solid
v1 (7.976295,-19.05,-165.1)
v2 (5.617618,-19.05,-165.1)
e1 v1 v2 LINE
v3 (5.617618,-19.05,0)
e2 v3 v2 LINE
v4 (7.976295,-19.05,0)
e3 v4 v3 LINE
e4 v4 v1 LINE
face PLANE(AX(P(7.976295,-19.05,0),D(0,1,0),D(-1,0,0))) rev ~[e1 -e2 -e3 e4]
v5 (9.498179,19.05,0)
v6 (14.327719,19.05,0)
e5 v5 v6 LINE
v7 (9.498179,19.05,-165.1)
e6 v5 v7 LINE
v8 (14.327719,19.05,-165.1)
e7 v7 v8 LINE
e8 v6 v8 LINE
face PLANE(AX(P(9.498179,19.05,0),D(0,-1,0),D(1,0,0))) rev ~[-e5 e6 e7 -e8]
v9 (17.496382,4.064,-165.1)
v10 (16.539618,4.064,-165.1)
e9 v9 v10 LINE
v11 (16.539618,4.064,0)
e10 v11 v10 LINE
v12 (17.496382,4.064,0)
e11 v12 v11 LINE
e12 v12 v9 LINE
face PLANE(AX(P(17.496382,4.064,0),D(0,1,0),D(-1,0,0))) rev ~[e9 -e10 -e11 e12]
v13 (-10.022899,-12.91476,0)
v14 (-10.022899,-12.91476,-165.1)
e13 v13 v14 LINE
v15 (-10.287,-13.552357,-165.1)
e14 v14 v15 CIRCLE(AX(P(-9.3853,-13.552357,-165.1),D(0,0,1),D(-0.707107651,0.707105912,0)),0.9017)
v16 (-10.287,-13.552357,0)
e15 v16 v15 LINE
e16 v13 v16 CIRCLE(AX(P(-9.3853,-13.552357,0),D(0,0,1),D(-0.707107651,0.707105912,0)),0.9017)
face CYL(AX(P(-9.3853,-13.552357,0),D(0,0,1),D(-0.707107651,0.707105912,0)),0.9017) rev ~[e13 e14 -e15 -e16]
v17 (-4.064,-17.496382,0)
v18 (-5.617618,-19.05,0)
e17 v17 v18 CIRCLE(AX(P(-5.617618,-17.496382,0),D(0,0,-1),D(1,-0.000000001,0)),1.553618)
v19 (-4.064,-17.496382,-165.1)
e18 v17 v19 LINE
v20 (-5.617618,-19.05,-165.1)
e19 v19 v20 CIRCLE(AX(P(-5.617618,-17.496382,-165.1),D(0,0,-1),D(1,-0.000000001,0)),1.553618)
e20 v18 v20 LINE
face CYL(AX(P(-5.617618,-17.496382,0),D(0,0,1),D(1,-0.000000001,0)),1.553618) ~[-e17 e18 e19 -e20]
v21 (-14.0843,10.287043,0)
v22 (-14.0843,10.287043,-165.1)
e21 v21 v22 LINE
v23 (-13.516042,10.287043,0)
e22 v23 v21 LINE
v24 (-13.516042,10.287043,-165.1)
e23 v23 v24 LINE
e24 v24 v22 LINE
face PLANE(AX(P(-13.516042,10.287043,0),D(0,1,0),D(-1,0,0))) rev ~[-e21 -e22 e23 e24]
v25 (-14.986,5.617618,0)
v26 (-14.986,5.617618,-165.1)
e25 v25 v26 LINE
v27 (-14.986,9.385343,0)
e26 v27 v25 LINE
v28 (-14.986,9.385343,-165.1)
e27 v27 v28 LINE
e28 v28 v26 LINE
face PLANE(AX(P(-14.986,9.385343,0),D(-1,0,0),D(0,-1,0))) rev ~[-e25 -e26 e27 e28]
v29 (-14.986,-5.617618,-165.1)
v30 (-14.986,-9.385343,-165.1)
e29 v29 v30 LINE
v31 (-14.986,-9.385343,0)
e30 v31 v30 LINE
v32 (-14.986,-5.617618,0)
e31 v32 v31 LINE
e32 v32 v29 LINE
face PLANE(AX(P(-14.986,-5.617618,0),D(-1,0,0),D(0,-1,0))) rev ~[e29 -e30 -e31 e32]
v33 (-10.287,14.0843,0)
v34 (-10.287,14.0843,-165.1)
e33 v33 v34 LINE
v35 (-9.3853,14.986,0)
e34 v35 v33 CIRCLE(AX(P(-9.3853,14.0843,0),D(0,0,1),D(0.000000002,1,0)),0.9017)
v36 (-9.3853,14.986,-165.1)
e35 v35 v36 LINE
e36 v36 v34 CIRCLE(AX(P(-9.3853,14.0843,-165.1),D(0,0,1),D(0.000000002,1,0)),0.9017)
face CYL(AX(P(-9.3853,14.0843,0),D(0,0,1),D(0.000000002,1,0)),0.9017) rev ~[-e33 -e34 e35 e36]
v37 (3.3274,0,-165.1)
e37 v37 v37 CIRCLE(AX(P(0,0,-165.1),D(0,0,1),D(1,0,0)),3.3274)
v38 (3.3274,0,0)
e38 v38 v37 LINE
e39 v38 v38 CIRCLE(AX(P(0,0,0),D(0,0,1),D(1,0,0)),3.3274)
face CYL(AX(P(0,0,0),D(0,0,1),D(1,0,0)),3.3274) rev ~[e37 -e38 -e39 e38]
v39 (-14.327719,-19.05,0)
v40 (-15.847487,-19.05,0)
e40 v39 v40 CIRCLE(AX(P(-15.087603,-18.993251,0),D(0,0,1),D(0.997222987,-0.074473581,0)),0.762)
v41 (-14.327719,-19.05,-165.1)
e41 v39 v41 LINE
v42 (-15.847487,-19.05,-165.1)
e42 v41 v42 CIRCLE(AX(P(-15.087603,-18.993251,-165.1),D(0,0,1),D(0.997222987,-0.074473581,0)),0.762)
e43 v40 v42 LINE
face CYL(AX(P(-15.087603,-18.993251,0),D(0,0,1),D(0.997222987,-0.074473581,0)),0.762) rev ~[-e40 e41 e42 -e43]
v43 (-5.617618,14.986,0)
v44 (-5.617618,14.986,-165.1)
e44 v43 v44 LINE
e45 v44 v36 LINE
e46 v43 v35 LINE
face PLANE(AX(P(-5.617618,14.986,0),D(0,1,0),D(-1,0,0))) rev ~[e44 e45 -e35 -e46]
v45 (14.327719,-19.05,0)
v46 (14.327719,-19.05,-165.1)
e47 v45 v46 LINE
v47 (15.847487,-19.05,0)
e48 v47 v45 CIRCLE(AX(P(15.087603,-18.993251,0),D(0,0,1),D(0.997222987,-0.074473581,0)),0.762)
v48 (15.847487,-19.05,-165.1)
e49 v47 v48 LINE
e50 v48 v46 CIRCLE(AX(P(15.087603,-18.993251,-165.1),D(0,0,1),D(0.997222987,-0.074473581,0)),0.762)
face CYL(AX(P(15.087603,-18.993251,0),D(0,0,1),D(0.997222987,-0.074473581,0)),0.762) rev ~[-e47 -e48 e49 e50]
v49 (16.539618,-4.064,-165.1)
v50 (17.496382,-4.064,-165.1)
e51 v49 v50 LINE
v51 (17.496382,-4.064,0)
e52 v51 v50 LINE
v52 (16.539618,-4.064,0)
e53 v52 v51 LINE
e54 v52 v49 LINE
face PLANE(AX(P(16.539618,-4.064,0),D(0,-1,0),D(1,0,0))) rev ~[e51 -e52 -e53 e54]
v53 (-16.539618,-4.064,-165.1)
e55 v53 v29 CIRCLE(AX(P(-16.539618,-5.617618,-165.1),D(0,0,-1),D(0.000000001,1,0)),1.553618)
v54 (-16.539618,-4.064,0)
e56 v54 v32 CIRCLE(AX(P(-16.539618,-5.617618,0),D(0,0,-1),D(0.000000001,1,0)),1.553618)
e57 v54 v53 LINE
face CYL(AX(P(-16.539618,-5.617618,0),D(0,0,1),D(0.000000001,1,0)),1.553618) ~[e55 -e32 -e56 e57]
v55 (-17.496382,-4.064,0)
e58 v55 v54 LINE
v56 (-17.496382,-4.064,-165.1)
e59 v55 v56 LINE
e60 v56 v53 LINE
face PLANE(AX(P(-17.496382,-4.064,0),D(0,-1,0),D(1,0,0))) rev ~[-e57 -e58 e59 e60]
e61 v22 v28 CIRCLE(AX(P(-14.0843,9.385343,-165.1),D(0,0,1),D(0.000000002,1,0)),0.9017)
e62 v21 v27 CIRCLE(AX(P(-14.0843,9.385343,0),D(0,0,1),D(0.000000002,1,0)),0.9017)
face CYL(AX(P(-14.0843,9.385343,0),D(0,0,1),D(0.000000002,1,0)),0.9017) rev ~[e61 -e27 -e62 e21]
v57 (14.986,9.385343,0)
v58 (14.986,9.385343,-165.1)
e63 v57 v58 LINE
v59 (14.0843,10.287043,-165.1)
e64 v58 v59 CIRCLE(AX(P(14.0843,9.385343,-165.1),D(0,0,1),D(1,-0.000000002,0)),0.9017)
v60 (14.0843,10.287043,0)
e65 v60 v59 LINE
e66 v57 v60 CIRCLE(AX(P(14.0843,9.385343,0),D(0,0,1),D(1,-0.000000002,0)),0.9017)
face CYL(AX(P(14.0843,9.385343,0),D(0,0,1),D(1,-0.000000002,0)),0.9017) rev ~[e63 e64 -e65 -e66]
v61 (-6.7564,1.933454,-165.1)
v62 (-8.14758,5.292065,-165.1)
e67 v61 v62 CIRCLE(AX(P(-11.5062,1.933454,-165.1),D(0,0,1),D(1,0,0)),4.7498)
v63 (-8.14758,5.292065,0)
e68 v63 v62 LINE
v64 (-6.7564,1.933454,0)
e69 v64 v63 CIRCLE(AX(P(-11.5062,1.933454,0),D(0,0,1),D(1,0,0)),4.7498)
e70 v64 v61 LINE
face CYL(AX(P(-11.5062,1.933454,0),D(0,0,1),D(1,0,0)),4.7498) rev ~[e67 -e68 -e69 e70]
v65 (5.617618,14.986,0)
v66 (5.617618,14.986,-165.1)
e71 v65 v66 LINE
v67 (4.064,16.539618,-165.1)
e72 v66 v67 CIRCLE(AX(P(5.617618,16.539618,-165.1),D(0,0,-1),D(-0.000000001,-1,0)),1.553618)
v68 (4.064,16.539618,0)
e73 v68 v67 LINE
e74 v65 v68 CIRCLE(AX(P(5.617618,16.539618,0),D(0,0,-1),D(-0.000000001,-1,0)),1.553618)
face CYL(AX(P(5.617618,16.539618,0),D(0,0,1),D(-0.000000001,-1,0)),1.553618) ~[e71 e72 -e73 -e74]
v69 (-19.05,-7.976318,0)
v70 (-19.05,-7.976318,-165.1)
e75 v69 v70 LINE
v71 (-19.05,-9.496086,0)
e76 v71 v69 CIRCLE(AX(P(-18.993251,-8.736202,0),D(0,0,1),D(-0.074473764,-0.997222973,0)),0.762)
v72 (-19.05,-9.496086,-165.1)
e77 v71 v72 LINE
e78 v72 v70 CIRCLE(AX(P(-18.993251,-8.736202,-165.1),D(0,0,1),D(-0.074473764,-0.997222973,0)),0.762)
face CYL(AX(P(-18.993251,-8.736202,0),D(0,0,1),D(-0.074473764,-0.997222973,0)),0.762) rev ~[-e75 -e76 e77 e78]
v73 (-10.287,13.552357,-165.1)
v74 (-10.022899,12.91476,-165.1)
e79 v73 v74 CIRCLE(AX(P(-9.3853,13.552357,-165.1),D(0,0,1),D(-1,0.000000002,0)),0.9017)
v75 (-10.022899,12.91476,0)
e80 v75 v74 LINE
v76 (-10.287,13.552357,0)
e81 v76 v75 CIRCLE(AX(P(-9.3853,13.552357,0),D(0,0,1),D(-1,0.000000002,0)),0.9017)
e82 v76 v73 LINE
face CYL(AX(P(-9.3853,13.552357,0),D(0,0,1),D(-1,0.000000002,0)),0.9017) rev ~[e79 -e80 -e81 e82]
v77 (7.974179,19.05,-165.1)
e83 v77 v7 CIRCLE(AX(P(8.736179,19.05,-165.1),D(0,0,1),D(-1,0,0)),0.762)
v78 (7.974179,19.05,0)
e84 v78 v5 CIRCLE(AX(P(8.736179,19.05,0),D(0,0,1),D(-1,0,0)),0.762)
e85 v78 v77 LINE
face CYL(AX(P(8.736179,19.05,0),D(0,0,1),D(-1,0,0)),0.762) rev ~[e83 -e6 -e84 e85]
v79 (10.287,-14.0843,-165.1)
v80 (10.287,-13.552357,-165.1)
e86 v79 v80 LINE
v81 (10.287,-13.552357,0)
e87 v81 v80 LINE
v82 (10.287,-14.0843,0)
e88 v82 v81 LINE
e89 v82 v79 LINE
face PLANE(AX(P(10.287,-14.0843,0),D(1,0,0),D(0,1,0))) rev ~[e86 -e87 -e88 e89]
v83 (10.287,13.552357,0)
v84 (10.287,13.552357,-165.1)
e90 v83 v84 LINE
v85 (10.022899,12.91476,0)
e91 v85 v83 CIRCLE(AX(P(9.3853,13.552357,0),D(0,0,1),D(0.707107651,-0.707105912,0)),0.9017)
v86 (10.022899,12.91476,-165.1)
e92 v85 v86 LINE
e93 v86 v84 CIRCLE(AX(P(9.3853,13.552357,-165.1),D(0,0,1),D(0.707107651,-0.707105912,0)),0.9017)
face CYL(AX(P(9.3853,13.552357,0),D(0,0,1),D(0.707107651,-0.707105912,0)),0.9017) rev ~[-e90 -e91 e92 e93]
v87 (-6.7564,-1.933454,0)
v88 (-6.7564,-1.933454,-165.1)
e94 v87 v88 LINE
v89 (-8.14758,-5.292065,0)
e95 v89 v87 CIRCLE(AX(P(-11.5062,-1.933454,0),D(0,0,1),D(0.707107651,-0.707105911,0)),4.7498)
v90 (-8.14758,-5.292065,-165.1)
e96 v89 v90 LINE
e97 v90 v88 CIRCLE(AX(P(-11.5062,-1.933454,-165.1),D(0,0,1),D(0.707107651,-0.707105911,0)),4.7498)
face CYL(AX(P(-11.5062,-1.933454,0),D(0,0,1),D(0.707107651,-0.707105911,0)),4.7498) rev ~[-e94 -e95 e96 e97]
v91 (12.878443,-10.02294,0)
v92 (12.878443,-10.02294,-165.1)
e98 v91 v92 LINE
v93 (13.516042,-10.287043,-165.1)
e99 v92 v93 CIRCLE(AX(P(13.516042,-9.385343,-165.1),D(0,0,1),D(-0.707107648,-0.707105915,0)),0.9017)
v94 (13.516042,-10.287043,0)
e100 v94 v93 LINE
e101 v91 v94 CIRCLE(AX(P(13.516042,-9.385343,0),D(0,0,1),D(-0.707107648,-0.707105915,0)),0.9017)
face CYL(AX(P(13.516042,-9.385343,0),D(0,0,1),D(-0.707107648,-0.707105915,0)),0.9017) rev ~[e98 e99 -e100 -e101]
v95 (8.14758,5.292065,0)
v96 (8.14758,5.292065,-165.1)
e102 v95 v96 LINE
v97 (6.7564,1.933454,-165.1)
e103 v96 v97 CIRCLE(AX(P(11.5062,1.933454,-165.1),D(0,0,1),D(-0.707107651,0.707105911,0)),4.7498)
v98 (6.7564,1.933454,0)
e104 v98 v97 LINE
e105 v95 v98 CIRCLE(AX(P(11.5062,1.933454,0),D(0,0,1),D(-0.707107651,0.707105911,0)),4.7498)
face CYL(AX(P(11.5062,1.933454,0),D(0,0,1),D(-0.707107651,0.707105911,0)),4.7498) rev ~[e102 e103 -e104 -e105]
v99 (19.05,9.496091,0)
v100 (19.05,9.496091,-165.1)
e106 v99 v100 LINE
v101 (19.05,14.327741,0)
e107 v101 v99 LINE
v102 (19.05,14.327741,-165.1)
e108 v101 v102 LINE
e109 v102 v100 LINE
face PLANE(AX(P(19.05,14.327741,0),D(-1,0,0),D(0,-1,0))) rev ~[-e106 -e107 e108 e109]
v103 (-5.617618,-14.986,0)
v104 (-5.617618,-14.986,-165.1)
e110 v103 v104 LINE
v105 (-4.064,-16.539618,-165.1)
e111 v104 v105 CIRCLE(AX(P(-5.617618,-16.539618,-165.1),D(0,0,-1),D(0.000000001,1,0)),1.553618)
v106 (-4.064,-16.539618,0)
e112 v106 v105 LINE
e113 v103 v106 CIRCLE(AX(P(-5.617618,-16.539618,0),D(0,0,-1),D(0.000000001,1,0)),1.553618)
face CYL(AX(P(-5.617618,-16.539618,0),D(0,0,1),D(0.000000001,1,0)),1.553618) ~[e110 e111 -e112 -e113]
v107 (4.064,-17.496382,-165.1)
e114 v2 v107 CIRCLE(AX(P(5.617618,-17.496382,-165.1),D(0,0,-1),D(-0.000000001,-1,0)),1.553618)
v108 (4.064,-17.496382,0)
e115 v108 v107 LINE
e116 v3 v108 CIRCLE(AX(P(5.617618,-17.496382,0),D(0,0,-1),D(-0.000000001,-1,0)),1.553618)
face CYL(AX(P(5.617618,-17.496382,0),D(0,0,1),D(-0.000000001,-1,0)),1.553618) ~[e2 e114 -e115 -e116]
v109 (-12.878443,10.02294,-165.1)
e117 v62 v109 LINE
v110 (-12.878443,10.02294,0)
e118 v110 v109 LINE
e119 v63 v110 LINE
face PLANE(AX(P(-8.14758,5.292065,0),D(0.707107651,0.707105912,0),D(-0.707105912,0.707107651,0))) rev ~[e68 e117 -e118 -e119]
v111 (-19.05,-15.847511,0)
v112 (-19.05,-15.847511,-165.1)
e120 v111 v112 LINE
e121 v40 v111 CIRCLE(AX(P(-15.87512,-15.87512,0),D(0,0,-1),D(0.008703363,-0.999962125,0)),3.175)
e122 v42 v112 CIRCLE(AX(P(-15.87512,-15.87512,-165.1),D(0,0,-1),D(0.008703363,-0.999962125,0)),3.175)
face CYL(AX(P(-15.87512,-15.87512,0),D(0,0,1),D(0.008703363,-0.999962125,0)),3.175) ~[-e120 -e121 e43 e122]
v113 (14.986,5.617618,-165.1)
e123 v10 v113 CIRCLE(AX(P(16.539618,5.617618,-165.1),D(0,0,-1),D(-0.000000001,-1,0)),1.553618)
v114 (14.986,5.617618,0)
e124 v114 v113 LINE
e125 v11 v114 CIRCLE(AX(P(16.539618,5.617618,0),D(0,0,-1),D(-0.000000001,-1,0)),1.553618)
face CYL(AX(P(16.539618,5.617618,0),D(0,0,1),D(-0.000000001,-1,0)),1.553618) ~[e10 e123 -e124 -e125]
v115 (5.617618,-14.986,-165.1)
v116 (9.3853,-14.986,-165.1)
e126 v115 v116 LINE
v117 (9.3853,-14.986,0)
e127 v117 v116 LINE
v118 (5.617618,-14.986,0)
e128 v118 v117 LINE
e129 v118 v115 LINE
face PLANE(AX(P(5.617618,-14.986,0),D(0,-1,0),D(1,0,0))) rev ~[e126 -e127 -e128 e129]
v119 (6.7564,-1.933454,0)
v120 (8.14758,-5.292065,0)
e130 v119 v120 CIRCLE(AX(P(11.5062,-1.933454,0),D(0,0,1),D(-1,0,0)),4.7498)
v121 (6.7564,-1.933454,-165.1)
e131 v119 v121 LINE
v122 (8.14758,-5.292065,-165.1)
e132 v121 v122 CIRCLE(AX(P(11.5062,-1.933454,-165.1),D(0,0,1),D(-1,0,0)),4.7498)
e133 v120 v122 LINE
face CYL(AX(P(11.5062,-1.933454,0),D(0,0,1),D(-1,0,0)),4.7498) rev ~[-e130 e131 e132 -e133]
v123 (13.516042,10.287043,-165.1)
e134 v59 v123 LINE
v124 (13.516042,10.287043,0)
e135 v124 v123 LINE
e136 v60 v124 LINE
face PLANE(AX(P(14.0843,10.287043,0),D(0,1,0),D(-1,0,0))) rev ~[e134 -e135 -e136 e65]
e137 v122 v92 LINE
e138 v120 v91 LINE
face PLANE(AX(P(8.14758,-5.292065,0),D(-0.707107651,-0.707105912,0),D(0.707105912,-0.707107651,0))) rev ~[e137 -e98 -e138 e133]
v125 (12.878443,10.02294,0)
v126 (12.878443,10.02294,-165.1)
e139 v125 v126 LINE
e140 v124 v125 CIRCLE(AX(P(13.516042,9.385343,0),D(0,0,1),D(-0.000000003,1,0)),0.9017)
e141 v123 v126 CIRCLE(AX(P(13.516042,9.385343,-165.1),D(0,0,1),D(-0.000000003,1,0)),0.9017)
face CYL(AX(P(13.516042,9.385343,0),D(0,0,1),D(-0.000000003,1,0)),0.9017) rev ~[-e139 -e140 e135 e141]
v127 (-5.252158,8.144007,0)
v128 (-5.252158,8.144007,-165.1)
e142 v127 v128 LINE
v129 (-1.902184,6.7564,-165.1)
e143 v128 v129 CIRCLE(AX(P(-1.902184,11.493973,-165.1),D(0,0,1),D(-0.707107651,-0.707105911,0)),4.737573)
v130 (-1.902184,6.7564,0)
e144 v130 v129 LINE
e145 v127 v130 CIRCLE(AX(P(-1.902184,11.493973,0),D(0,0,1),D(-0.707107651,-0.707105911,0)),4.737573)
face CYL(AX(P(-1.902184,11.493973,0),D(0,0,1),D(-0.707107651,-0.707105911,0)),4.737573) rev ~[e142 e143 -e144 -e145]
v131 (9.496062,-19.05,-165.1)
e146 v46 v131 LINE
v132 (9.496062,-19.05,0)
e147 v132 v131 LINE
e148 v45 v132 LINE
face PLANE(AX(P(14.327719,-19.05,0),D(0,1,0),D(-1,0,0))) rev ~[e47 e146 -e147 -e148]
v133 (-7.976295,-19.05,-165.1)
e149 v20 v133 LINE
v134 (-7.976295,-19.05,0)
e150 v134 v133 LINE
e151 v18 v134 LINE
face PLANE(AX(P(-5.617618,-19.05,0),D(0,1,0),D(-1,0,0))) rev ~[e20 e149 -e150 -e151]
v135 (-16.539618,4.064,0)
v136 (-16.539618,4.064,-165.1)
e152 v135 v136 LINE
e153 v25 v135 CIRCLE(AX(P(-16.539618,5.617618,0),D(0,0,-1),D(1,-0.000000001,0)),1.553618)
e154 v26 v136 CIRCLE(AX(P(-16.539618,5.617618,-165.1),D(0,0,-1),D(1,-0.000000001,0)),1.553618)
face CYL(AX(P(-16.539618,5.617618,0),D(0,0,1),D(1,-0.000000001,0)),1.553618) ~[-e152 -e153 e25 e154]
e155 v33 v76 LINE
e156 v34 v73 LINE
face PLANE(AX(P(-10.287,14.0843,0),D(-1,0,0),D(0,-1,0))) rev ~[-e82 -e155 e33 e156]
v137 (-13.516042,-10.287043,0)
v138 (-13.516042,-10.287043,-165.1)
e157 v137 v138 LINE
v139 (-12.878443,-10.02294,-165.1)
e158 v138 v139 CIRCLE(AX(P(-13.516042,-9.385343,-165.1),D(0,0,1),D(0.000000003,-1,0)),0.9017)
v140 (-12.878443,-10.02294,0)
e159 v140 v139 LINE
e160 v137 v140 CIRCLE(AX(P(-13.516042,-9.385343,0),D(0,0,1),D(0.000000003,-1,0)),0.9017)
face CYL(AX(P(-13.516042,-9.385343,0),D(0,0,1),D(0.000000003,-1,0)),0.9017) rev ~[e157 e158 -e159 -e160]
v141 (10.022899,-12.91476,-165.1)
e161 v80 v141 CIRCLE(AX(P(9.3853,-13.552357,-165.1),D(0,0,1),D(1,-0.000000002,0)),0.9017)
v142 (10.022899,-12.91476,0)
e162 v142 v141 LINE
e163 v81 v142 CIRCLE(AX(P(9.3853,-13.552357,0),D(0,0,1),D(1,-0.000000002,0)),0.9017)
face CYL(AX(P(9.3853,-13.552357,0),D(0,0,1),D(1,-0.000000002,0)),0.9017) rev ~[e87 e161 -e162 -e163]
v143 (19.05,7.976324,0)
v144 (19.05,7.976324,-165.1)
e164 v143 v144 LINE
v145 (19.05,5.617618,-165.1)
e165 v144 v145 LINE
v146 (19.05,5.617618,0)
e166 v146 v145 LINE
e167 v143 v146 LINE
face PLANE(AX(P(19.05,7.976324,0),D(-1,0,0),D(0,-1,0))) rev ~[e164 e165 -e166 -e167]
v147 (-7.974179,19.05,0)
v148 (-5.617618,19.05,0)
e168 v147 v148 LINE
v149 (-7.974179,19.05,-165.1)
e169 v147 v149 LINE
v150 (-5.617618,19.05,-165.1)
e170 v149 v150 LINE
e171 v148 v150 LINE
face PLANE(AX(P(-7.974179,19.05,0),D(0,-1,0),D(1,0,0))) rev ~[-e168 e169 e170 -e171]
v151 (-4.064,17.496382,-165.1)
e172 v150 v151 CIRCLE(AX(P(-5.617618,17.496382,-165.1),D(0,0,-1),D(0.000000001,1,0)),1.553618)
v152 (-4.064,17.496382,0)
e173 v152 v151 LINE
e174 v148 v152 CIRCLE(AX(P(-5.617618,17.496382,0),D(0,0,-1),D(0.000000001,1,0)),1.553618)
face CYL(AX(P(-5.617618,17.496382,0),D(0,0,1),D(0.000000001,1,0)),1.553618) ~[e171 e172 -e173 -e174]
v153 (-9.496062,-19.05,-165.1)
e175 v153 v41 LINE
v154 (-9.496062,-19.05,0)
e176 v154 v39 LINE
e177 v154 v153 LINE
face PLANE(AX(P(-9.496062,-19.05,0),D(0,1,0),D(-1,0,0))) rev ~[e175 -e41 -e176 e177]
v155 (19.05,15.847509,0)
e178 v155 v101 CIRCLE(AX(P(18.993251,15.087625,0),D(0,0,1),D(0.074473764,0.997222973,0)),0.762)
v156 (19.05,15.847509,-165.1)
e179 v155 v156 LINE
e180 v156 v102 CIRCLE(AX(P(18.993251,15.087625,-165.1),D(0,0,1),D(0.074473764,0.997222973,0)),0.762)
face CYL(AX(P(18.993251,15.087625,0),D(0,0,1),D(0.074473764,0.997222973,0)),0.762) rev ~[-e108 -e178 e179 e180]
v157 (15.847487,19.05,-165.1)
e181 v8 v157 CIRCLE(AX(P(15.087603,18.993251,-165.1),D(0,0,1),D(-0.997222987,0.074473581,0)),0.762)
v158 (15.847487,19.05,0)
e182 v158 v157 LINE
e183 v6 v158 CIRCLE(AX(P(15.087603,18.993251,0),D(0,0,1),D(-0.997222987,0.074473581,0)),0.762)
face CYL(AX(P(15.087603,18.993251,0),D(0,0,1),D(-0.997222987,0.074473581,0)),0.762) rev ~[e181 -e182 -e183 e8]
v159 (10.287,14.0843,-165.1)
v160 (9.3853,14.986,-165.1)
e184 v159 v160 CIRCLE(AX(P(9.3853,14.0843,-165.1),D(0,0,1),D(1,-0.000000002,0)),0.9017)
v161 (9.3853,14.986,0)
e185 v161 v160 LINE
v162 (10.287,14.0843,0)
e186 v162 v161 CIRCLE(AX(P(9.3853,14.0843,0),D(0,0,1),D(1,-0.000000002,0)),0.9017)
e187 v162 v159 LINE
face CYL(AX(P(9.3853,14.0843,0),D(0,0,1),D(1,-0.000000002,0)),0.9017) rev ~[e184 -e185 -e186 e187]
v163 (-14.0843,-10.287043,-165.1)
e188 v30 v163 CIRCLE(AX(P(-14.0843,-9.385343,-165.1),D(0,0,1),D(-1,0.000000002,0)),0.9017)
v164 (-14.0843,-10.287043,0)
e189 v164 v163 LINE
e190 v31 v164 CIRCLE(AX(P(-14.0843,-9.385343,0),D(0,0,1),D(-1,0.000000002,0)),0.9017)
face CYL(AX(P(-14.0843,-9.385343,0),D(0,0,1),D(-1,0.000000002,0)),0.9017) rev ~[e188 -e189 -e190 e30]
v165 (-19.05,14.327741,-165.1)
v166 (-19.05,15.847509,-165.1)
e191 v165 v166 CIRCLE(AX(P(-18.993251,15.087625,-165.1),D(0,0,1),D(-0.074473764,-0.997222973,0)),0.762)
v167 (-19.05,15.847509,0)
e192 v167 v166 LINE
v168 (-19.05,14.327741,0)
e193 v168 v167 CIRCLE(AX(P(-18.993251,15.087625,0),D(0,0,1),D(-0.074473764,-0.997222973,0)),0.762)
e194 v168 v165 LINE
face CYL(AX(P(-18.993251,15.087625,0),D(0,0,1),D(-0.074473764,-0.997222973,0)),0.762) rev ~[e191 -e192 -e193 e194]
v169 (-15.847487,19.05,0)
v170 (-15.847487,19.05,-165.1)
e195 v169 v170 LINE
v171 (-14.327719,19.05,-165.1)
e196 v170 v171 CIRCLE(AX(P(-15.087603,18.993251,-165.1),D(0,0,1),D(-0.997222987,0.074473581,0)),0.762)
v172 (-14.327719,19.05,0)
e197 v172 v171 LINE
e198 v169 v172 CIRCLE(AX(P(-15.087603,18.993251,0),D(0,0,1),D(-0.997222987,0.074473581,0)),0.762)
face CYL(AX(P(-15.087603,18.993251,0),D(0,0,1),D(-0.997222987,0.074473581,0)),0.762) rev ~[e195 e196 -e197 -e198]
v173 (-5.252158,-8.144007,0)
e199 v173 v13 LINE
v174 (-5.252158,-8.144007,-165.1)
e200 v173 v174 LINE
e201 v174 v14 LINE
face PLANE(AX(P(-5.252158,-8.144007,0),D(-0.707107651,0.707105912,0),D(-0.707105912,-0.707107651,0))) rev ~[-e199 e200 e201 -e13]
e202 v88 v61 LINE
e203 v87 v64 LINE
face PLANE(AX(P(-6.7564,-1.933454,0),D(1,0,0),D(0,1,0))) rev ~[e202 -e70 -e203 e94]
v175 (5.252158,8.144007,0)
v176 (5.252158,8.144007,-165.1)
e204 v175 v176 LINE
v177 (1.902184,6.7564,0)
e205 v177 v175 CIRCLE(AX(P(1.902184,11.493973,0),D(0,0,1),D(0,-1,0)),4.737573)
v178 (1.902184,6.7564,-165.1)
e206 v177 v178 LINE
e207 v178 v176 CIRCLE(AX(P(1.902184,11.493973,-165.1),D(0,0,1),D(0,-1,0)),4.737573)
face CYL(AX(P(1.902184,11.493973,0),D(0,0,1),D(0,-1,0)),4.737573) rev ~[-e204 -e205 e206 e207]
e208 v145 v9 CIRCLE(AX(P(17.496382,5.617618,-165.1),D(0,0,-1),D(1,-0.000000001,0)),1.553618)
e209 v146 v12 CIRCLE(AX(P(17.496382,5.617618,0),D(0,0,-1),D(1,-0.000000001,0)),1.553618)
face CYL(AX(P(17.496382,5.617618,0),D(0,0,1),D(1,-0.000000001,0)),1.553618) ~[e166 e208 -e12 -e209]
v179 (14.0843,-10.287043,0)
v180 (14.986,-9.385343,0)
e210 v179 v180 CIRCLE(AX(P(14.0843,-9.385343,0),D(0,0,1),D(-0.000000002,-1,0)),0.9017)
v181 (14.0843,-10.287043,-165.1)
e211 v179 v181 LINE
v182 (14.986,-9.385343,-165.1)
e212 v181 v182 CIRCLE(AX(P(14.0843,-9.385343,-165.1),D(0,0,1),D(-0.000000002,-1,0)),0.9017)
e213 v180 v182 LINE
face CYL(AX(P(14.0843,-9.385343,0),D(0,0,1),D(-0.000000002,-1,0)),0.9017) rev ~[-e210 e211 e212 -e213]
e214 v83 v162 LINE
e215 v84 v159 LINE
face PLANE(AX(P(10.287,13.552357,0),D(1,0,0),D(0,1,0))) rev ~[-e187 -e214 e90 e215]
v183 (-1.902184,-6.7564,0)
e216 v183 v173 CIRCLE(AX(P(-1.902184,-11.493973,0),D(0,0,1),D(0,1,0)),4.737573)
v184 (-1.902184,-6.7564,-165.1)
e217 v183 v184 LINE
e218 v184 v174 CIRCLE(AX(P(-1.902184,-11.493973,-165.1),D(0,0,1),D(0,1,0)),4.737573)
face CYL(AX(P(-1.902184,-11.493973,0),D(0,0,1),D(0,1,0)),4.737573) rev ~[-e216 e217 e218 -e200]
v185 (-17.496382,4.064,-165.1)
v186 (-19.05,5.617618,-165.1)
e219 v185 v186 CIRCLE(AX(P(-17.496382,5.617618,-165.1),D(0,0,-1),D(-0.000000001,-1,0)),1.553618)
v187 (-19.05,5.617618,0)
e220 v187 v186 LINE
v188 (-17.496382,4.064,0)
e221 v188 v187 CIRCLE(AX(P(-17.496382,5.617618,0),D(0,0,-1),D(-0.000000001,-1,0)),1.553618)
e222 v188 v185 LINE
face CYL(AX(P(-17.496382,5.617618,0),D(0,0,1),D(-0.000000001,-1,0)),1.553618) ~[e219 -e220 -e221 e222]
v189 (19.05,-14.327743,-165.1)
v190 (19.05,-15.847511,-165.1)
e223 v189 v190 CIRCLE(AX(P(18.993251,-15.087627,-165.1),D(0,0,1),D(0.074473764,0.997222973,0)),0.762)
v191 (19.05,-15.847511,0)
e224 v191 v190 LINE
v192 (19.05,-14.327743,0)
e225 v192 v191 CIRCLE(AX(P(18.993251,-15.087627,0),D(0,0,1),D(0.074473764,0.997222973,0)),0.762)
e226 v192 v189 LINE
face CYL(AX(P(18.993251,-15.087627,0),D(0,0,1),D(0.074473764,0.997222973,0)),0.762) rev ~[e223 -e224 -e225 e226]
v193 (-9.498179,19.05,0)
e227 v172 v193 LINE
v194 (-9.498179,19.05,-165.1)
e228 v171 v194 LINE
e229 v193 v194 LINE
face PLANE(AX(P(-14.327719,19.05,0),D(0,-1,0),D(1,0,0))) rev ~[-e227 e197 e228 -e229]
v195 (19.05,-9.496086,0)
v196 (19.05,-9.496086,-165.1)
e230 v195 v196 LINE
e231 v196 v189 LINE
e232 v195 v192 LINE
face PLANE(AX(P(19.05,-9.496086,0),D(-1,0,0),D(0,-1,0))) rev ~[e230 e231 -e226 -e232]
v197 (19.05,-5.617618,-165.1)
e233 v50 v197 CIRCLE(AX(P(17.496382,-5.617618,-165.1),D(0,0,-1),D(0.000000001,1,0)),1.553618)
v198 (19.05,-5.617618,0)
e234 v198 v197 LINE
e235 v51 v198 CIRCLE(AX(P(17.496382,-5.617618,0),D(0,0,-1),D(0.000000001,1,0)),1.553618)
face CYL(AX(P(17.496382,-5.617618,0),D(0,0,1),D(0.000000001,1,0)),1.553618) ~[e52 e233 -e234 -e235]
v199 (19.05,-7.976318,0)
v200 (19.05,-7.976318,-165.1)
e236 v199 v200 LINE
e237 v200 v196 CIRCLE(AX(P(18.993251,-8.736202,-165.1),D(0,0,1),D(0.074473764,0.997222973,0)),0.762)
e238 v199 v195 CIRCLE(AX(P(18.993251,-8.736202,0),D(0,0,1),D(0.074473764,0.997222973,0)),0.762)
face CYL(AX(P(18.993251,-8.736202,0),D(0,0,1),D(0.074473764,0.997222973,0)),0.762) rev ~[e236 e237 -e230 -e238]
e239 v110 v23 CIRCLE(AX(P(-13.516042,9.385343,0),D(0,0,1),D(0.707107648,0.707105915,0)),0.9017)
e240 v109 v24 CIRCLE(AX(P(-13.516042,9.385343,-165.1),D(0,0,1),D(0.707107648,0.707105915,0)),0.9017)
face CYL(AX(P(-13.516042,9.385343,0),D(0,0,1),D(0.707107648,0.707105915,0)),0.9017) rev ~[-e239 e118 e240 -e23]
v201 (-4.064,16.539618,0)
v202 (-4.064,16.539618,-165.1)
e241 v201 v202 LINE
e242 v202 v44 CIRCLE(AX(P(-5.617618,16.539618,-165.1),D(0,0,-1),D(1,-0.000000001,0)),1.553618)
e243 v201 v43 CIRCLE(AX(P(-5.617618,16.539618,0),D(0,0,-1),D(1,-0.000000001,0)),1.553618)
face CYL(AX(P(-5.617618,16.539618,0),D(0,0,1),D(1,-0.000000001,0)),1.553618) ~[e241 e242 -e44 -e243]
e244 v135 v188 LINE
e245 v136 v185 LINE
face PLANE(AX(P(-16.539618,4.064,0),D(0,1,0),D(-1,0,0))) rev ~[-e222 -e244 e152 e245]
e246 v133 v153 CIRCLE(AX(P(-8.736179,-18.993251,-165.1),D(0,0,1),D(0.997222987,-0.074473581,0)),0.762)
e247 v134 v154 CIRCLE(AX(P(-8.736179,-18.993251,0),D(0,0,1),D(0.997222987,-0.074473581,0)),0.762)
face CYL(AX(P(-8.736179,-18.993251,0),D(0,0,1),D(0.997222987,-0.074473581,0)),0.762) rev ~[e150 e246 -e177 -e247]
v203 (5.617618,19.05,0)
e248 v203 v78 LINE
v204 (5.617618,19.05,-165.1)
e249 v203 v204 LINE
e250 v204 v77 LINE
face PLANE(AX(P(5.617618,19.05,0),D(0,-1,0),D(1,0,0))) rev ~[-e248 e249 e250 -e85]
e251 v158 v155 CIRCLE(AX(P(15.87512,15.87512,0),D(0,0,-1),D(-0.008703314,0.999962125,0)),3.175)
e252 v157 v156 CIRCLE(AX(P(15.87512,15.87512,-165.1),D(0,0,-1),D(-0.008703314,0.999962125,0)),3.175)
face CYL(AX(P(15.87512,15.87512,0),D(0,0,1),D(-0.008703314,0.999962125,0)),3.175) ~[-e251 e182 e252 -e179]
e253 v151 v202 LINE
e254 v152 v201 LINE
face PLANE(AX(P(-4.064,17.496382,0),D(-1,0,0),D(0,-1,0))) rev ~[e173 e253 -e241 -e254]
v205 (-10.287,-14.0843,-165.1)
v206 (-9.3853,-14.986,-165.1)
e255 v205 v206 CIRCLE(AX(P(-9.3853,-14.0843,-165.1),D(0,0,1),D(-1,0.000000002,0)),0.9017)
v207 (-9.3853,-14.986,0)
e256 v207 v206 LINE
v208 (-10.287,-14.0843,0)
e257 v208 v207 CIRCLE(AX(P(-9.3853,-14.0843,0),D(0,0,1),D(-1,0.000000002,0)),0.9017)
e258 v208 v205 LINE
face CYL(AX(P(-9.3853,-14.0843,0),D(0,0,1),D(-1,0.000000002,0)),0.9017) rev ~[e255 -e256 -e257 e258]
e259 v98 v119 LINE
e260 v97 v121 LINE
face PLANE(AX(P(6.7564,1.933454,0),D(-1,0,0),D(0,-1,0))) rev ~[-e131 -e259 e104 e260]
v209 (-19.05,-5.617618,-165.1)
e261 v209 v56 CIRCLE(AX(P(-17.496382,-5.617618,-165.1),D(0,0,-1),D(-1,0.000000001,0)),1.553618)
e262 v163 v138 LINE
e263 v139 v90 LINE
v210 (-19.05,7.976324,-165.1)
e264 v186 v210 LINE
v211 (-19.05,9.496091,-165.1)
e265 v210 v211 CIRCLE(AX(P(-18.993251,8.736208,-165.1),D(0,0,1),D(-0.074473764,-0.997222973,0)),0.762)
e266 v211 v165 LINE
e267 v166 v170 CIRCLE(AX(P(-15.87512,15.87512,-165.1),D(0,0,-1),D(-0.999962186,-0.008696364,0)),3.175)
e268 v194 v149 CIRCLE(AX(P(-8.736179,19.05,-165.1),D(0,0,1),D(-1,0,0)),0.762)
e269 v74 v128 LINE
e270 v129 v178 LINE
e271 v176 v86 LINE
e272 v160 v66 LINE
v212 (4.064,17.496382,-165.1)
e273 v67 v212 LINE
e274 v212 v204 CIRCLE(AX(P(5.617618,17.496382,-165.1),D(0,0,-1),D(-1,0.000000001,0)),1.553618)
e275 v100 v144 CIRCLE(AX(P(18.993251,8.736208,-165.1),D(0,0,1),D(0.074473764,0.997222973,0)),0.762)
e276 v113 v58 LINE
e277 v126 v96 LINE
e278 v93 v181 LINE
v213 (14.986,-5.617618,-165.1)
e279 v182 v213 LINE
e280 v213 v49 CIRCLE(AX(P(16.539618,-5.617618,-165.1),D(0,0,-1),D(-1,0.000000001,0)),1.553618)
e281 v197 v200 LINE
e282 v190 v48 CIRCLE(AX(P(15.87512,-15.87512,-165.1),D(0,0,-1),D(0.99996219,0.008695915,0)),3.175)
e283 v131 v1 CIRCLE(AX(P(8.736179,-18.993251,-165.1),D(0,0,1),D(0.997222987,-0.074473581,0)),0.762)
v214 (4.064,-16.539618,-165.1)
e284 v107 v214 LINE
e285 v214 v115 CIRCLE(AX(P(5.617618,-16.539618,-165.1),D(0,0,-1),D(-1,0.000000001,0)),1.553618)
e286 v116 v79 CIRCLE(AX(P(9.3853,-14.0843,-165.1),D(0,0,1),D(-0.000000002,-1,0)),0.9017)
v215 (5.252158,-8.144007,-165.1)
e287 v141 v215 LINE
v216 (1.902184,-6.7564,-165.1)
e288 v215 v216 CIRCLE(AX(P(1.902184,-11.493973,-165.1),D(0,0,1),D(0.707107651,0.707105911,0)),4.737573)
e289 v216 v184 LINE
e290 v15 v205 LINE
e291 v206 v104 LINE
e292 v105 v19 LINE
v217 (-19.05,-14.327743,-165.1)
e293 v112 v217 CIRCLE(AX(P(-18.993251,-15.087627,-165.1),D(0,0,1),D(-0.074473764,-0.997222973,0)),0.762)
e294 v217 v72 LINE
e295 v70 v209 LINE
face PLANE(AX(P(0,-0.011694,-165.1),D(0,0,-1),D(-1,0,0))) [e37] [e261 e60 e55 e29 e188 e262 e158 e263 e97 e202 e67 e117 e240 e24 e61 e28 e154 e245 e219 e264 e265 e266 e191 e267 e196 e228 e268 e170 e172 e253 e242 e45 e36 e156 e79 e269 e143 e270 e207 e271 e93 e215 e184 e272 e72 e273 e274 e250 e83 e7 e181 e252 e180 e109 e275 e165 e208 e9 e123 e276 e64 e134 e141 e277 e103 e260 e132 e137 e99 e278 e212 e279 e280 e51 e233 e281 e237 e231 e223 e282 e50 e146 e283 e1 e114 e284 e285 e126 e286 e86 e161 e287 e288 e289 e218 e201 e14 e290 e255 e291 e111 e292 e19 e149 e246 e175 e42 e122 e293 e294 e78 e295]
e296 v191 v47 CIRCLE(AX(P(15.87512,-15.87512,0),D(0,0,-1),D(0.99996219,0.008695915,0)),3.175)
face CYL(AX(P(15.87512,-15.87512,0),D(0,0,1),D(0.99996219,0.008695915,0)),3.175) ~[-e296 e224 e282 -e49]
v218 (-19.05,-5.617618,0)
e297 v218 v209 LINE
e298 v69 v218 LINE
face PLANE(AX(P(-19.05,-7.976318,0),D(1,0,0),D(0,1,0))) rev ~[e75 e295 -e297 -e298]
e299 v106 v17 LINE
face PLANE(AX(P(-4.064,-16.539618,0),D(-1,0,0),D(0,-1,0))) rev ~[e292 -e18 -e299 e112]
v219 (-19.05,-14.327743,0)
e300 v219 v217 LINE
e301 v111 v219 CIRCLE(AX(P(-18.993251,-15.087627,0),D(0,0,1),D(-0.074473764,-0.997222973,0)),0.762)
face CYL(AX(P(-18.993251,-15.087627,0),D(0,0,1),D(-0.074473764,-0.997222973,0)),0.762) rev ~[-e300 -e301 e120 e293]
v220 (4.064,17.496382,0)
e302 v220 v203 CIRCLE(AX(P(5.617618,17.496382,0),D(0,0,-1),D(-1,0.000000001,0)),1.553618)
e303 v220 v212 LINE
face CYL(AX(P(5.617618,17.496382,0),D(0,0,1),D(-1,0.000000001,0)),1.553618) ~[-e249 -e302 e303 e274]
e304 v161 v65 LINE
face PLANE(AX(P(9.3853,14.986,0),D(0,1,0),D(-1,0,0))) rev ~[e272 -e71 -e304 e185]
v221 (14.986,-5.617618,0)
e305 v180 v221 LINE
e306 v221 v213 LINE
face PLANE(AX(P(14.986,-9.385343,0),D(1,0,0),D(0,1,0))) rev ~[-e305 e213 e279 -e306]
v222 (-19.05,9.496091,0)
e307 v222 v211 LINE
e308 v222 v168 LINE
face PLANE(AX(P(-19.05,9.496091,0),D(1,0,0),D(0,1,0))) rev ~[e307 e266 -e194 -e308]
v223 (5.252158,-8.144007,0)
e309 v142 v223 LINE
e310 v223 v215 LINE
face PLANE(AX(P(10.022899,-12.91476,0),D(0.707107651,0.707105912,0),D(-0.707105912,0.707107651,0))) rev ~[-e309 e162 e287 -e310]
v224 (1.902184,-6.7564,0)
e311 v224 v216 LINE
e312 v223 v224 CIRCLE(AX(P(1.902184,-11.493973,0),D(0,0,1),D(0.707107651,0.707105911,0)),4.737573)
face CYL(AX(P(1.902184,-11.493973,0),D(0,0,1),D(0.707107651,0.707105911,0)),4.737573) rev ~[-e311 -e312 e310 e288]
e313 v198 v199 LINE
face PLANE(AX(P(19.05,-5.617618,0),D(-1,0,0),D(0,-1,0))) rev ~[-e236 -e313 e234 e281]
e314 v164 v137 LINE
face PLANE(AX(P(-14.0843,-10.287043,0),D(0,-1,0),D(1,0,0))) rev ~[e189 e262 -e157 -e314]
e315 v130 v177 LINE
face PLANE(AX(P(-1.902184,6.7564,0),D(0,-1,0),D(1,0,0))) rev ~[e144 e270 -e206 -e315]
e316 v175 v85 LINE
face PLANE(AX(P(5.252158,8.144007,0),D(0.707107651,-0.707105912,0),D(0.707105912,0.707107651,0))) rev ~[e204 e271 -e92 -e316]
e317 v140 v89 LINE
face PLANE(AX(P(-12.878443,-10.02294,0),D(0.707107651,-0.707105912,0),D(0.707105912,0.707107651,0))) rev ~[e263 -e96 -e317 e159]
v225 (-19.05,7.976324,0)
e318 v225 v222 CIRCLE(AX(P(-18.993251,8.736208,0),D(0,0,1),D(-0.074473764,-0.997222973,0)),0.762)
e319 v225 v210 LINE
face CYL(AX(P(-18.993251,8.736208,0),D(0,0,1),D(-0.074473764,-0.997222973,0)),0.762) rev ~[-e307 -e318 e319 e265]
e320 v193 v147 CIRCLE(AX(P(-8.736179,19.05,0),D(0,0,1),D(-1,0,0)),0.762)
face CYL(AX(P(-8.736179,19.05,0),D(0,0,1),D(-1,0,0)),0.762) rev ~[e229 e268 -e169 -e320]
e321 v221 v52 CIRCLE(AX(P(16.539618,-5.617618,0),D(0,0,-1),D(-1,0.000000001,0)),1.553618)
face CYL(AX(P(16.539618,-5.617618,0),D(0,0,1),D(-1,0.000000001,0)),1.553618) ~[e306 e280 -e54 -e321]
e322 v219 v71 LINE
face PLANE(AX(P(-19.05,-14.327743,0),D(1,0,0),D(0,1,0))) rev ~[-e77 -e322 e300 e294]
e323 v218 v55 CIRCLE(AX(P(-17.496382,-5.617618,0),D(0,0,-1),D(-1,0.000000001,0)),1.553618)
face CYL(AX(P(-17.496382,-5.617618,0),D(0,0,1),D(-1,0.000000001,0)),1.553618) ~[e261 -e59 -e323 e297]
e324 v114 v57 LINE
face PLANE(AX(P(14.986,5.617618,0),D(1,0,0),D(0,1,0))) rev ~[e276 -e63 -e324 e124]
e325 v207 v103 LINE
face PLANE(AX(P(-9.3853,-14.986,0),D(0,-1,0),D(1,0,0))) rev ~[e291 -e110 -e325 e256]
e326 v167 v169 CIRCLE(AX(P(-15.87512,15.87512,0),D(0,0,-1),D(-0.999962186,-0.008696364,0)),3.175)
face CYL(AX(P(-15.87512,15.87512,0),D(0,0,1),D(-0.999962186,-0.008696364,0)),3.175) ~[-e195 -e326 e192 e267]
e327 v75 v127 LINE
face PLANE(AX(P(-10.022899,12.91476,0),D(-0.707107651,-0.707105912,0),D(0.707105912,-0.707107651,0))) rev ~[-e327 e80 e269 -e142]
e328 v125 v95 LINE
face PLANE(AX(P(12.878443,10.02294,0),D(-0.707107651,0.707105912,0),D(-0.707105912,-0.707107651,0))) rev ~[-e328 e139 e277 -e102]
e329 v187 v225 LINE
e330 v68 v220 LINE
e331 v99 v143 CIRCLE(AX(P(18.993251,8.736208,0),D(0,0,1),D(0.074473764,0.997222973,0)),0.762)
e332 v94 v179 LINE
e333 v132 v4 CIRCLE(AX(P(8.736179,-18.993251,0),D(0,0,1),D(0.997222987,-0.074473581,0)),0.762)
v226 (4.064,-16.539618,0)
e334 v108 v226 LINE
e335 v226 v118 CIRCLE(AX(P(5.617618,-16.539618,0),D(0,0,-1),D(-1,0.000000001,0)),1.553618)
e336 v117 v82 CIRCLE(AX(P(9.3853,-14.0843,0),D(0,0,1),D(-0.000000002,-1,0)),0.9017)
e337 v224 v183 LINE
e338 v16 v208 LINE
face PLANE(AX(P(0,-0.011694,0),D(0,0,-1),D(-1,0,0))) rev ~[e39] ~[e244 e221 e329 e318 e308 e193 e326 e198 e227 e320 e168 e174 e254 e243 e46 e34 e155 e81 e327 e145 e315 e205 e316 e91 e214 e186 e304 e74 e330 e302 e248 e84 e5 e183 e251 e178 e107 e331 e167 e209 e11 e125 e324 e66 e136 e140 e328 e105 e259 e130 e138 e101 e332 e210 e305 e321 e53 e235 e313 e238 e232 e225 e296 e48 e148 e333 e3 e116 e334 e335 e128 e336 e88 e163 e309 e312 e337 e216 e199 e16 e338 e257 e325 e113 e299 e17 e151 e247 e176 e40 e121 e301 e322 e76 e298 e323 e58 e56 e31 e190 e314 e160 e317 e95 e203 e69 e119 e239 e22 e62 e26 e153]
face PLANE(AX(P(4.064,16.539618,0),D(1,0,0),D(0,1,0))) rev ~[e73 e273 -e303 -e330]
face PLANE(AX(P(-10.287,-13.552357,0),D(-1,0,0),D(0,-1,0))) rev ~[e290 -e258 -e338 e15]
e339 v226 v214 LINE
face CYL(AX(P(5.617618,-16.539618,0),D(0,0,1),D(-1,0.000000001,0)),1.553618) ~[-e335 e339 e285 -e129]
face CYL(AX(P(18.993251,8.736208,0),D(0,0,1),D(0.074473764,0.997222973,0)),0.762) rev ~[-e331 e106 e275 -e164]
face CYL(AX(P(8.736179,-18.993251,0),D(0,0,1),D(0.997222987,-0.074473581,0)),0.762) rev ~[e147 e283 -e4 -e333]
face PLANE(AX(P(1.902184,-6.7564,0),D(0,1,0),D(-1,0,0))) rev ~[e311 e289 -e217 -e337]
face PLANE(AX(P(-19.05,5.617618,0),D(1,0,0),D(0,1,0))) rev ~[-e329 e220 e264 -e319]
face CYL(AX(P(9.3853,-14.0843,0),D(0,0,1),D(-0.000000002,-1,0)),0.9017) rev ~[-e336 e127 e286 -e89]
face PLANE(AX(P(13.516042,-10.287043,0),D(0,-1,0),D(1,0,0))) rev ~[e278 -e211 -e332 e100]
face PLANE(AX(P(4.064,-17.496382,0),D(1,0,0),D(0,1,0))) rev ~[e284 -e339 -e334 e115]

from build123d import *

# Parameters (mm, degrees)
SKETCH1_R      = 3.3274
EXTRUDE1_DEPTH = 165.1


with BuildPart() as part:
    # Sketch1 → Extrude1 (new body)
    with BuildSketch(Plane.XY):
        with BuildLine():
            Line((-10.022898969, 12.91475973), (-5.252158105, 8.144007132))
            ThreePointArc((-5.252158105, 8.144007132), (-3.715177372, 7.117027388), (-1.902183975, 6.7564))
            Line((-1.902183975, 6.7564), (1.902183975, 6.7564))
            ThreePointArc((1.902183975, 6.7564), (3.715177372, 7.117027388), (5.252158105, 8.144007132))
            Line((5.252158105, 8.144007132), (10.022898969, 12.91475973))
            ThreePointArc((10.022898969, 12.91475973), (10.218362387, 13.207291992), (10.287, 13.552357131))
            Line((10.287, 13.552357131), (10.287, 14.0843))
            ThreePointArc((10.287, 14.0843), (10.022898185, 14.721898185), (9.3853, 14.986))
            Line((9.3853, 14.986), (5.617617549, 14.986))
            ThreePointArc((5.617617549, 14.986), (4.519044045, 15.441044045), (4.064, 16.539617549))
            Line((4.064, 16.539617549), (4.064, 17.496382451))
            ThreePointArc((4.064, 17.496382451), (4.519044045, 18.594955955), (5.617617549, 19.05))
            Line((5.617617549, 19.05), (7.974178704, 19.05))
            ThreePointArc((7.974178704, 19.05), (8.736178704, 18.288), (9.498178704, 19.05))
            Line((9.498178704, 19.05), (14.327719207, 19.05))
            ThreePointArc((14.327719207, 19.05), (15.087603123, 18.231251131), (15.847487039, 19.05))
            ThreePointArc((15.847487039, 19.05), (18.120176289, 18.120192083), (19.05, 15.847509295))
            ThreePointArc((19.05, 15.847509295), (18.231250992, 15.08762539), (19.05, 14.327741484))
            Line((19.05, 14.327741484), (19.05, 9.496091471))
            ThreePointArc((19.05, 9.496091471), (18.231250992, 8.736207565), (19.05, 7.97632366))
            Line((19.05, 7.97632366), (19.05, 5.617617549))
            ThreePointArc((19.05, 5.617617549), (18.594955955, 4.519044045), (17.496382451, 4.064))
            Line((17.496382451, 4.064), (16.539617549, 4.064))
            ThreePointArc((16.539617549, 4.064), (15.441044045, 4.519044045), (14.986, 5.617617549))
            Line((14.986, 5.617617549), (14.986, 9.385342516))
            ThreePointArc((14.986, 9.385342516), (14.721898185, 10.022940701), (14.0843, 10.287042516))
            Line((14.0843, 10.287042516), (13.516042086, 10.287042516))
            ThreePointArc((13.516042086, 10.287042516), (13.170975923, 10.218404478), (12.878443117, 10.022939917))
            Line((12.878443117, 10.022939917), (8.14758008, 5.292065243))
            ThreePointArc((8.14758008, 5.292065243), (7.117955879, 3.751120653), (6.7564, 1.933453584))
            Line((6.7564, 1.933453584), (6.7564, -1.933453584))
            ThreePointArc((6.7564, -1.933453584), (7.117955879, -3.751120653), (8.14758008, -5.292065243))
            Line((8.14758008, -5.292065243), (12.878443117, -10.022939917))
            ThreePointArc((12.878443117, -10.022939917), (13.170975923, -10.218404478), (13.516042086, -10.287042516))
            Line((13.516042086, -10.287042516), (14.0843, -10.287042516))
            ThreePointArc((14.0843, -10.287042516), (14.721898185, -10.022940701), (14.986, -9.385342516))
            Line((14.986, -9.385342516), (14.986, -5.617617549))
            ThreePointArc((14.986, -5.617617549), (15.441044045, -4.519044045), (16.539617549, -4.064))
            Line((16.539617549, -4.064), (17.496382451, -4.064))
            ThreePointArc((17.496382451, -4.064), (18.594955955, -4.519044045), (19.05, -5.617617549))
            Line((19.05, -5.617617549), (19.05, -7.976318491))
            ThreePointArc((19.05, -7.976318491), (18.231250992, -8.736202396), (19.05, -9.496086302))
            Line((19.05, -9.496086302), (19.05, -14.32774291))
            ThreePointArc((19.05, -14.32774291), (18.231250992, -15.087626816), (19.05, -15.847510721))
            ThreePointArc((19.05, -15.847510721), (18.120175716, -18.120192644), (15.847486868, -19.05))
            ThreePointArc((15.847486868, -19.05), (15.087602952, -18.231251131), (14.327719036, -19.05))
            Line((14.327719036, -19.05), (9.496062448, -19.05))
            ThreePointArc((9.496062448, -19.05), (8.736178532, -18.231251131), (7.976294616, -19.05))
            Line((7.976294616, -19.05), (5.617617549, -19.05))
            ThreePointArc((5.617617549, -19.05), (4.519044045, -18.594955955), (4.064, -17.496382451))
            Line((4.064, -17.496382451), (4.064, -16.539617549))
            ThreePointArc((4.064, -16.539617549), (4.519044045, -15.441044045), (5.617617549, -14.986))
            Line((5.617617549, -14.986), (9.3853, -14.986))
            ThreePointArc((9.3853, -14.986), (10.022898185, -14.721898185), (10.287, -14.0843))
            Line((10.287, -14.0843), (10.287, -13.552357131))
            ThreePointArc((10.287, -13.552357131), (10.218362387, -13.207291992), (10.022898969, -12.91475973))
            Line((10.022898969, -12.91475973), (5.252158105, -8.144007132))
            ThreePointArc((5.252158105, -8.144007132), (3.715177372, -7.117027388), (1.902183975, -6.7564))
            Line((1.902183975, -6.7564), (-1.902183975, -6.7564))
            ThreePointArc((-1.902183975, -6.7564), (-3.715177372, -7.117027388), (-5.252158105, -8.144007132))
            Line((-5.252158105, -8.144007132), (-10.022898969, -12.91475973))
            ThreePointArc((-10.022898969, -12.91475973), (-10.218362387, -13.207291992), (-10.287, -13.552357131))
            Line((-10.287, -13.552357131), (-10.287, -14.0843))
            ThreePointArc((-10.287, -14.0843), (-10.022898185, -14.721898185), (-9.3853, -14.986))
            Line((-9.3853, -14.986), (-5.617617549, -14.986))
            ThreePointArc((-5.617617549, -14.986), (-4.519044045, -15.441044045), (-4.064, -16.539617549))
            Line((-4.064, -16.539617549), (-4.064, -17.496382451))
            ThreePointArc((-4.064, -17.496382451), (-4.519044045, -18.594955955), (-5.617617549, -19.05))
            Line((-5.617617549, -19.05), (-7.976294616, -19.05))
            ThreePointArc((-7.976294616, -19.05), (-8.736178532, -18.231251131), (-9.496062448, -19.05))
            Line((-9.496062448, -19.05), (-14.327719036, -19.05))
            ThreePointArc((-14.327719036, -19.05), (-15.087602952, -18.231251131), (-15.847486868, -19.05))
            ThreePointArc((-15.847486868, -19.05), (-18.120175716, -18.120192644), (-19.05, -15.847510721))
            ThreePointArc((-19.05, -15.847510721), (-18.231250992, -15.087626816), (-19.05, -14.32774291))
            Line((-19.05, -14.32774291), (-19.05, -9.496086302))
            ThreePointArc((-19.05, -9.496086302), (-18.231250992, -8.736202396), (-19.05, -7.976318491))
            Line((-19.05, -7.976318491), (-19.05, -5.617617549))
            ThreePointArc((-19.05, -5.617617549), (-18.594955955, -4.519044045), (-17.496382451, -4.064))
            Line((-17.496382451, -4.064), (-16.539617549, -4.064))
            ThreePointArc((-16.539617549, -4.064), (-15.441044045, -4.519044045), (-14.986, -5.617617549))
            Line((-14.986, -5.617617549), (-14.986, -9.385342516))
            ThreePointArc((-14.986, -9.385342516), (-14.721898185, -10.022940701), (-14.0843, -10.287042516))
            Line((-14.0843, -10.287042516), (-13.516042086, -10.287042516))
            ThreePointArc((-13.516042086, -10.287042516), (-13.170975923, -10.218404478), (-12.878443117, -10.022939917))
            Line((-12.878443117, -10.022939917), (-8.14758008, -5.292065243))
            ThreePointArc((-8.14758008, -5.292065243), (-7.117955879, -3.751120653), (-6.7564, -1.933453584))
            Line((-6.7564, -1.933453584), (-6.7564, 1.933453584))
            ThreePointArc((-6.7564, 1.933453584), (-7.117955879, 3.751120653), (-8.14758008, 5.292065243))
            Line((-8.14758008, 5.292065243), (-12.878443117, 10.022939917))
            ThreePointArc((-12.878443117, 10.022939917), (-13.170975923, 10.218404478), (-13.516042086, 10.287042516))
            Line((-13.516042086, 10.287042516), (-14.0843, 10.287042516))
            ThreePointArc((-14.0843, 10.287042516), (-14.721898185, 10.022940701), (-14.986, 9.385342516))
            Line((-14.986, 9.385342516), (-14.986, 5.617617549))
            ThreePointArc((-14.986, 5.617617549), (-15.441044045, 4.519044045), (-16.539617549, 4.064))
            Line((-16.539617549, 4.064), (-17.496382451, 4.064))
            ThreePointArc((-17.496382451, 4.064), (-18.594955955, 4.519044045), (-19.05, 5.617617549))
            Line((-19.05, 5.617617549), (-19.05, 7.97632366))
            ThreePointArc((-19.05, 7.97632366), (-18.231250992, 8.736207565), (-19.05, 9.496091471))
            Line((-19.05, 9.496091471), (-19.05, 14.327741484))
            ThreePointArc((-19.05, 14.327741484), (-18.231250992, 15.08762539), (-19.05, 15.847509295))
            ThreePointArc((-19.05, 15.847509295), (-18.120176289, 18.120192083), (-15.847487039, 19.05))
            ThreePointArc((-15.847487039, 19.05), (-15.087603123, 18.231251131), (-14.327719207, 19.05))
            Line((-14.327719207, 19.05), (-9.498178704, 19.05))
            ThreePointArc((-9.498178704, 19.05), (-8.736178704, 18.288), (-7.974178704, 19.05))
            Line((-7.974178704, 19.05), (-5.617617549, 19.05))
            ThreePointArc((-5.617617549, 19.05), (-4.519044045, 18.594955955), (-4.064, 17.496382451))
            Line((-4.064, 17.496382451), (-4.064, 16.539617549))
            ThreePointArc((-4.064, 16.539617549), (-4.519044045, 15.441044045), (-5.617617549, 14.986))
            Line((-5.617617549, 14.986), (-9.3853, 14.986))
            ThreePointArc((-9.3853, 14.986), (-10.022898185, 14.721898185), (-10.287, 14.0843))
            Line((-10.287, 14.0843), (-10.287, 13.552357131))
            ThreePointArc((-10.287, 13.552357131), (-10.218362387, 13.207291992), (-10.022898969, 12.91475973))
        make_face()
        Circle(SKETCH1_R, mode=Mode.SUBTRACT)
    extrude(amount=-EXTRUDE1_DEPTH)


solid = part.part
